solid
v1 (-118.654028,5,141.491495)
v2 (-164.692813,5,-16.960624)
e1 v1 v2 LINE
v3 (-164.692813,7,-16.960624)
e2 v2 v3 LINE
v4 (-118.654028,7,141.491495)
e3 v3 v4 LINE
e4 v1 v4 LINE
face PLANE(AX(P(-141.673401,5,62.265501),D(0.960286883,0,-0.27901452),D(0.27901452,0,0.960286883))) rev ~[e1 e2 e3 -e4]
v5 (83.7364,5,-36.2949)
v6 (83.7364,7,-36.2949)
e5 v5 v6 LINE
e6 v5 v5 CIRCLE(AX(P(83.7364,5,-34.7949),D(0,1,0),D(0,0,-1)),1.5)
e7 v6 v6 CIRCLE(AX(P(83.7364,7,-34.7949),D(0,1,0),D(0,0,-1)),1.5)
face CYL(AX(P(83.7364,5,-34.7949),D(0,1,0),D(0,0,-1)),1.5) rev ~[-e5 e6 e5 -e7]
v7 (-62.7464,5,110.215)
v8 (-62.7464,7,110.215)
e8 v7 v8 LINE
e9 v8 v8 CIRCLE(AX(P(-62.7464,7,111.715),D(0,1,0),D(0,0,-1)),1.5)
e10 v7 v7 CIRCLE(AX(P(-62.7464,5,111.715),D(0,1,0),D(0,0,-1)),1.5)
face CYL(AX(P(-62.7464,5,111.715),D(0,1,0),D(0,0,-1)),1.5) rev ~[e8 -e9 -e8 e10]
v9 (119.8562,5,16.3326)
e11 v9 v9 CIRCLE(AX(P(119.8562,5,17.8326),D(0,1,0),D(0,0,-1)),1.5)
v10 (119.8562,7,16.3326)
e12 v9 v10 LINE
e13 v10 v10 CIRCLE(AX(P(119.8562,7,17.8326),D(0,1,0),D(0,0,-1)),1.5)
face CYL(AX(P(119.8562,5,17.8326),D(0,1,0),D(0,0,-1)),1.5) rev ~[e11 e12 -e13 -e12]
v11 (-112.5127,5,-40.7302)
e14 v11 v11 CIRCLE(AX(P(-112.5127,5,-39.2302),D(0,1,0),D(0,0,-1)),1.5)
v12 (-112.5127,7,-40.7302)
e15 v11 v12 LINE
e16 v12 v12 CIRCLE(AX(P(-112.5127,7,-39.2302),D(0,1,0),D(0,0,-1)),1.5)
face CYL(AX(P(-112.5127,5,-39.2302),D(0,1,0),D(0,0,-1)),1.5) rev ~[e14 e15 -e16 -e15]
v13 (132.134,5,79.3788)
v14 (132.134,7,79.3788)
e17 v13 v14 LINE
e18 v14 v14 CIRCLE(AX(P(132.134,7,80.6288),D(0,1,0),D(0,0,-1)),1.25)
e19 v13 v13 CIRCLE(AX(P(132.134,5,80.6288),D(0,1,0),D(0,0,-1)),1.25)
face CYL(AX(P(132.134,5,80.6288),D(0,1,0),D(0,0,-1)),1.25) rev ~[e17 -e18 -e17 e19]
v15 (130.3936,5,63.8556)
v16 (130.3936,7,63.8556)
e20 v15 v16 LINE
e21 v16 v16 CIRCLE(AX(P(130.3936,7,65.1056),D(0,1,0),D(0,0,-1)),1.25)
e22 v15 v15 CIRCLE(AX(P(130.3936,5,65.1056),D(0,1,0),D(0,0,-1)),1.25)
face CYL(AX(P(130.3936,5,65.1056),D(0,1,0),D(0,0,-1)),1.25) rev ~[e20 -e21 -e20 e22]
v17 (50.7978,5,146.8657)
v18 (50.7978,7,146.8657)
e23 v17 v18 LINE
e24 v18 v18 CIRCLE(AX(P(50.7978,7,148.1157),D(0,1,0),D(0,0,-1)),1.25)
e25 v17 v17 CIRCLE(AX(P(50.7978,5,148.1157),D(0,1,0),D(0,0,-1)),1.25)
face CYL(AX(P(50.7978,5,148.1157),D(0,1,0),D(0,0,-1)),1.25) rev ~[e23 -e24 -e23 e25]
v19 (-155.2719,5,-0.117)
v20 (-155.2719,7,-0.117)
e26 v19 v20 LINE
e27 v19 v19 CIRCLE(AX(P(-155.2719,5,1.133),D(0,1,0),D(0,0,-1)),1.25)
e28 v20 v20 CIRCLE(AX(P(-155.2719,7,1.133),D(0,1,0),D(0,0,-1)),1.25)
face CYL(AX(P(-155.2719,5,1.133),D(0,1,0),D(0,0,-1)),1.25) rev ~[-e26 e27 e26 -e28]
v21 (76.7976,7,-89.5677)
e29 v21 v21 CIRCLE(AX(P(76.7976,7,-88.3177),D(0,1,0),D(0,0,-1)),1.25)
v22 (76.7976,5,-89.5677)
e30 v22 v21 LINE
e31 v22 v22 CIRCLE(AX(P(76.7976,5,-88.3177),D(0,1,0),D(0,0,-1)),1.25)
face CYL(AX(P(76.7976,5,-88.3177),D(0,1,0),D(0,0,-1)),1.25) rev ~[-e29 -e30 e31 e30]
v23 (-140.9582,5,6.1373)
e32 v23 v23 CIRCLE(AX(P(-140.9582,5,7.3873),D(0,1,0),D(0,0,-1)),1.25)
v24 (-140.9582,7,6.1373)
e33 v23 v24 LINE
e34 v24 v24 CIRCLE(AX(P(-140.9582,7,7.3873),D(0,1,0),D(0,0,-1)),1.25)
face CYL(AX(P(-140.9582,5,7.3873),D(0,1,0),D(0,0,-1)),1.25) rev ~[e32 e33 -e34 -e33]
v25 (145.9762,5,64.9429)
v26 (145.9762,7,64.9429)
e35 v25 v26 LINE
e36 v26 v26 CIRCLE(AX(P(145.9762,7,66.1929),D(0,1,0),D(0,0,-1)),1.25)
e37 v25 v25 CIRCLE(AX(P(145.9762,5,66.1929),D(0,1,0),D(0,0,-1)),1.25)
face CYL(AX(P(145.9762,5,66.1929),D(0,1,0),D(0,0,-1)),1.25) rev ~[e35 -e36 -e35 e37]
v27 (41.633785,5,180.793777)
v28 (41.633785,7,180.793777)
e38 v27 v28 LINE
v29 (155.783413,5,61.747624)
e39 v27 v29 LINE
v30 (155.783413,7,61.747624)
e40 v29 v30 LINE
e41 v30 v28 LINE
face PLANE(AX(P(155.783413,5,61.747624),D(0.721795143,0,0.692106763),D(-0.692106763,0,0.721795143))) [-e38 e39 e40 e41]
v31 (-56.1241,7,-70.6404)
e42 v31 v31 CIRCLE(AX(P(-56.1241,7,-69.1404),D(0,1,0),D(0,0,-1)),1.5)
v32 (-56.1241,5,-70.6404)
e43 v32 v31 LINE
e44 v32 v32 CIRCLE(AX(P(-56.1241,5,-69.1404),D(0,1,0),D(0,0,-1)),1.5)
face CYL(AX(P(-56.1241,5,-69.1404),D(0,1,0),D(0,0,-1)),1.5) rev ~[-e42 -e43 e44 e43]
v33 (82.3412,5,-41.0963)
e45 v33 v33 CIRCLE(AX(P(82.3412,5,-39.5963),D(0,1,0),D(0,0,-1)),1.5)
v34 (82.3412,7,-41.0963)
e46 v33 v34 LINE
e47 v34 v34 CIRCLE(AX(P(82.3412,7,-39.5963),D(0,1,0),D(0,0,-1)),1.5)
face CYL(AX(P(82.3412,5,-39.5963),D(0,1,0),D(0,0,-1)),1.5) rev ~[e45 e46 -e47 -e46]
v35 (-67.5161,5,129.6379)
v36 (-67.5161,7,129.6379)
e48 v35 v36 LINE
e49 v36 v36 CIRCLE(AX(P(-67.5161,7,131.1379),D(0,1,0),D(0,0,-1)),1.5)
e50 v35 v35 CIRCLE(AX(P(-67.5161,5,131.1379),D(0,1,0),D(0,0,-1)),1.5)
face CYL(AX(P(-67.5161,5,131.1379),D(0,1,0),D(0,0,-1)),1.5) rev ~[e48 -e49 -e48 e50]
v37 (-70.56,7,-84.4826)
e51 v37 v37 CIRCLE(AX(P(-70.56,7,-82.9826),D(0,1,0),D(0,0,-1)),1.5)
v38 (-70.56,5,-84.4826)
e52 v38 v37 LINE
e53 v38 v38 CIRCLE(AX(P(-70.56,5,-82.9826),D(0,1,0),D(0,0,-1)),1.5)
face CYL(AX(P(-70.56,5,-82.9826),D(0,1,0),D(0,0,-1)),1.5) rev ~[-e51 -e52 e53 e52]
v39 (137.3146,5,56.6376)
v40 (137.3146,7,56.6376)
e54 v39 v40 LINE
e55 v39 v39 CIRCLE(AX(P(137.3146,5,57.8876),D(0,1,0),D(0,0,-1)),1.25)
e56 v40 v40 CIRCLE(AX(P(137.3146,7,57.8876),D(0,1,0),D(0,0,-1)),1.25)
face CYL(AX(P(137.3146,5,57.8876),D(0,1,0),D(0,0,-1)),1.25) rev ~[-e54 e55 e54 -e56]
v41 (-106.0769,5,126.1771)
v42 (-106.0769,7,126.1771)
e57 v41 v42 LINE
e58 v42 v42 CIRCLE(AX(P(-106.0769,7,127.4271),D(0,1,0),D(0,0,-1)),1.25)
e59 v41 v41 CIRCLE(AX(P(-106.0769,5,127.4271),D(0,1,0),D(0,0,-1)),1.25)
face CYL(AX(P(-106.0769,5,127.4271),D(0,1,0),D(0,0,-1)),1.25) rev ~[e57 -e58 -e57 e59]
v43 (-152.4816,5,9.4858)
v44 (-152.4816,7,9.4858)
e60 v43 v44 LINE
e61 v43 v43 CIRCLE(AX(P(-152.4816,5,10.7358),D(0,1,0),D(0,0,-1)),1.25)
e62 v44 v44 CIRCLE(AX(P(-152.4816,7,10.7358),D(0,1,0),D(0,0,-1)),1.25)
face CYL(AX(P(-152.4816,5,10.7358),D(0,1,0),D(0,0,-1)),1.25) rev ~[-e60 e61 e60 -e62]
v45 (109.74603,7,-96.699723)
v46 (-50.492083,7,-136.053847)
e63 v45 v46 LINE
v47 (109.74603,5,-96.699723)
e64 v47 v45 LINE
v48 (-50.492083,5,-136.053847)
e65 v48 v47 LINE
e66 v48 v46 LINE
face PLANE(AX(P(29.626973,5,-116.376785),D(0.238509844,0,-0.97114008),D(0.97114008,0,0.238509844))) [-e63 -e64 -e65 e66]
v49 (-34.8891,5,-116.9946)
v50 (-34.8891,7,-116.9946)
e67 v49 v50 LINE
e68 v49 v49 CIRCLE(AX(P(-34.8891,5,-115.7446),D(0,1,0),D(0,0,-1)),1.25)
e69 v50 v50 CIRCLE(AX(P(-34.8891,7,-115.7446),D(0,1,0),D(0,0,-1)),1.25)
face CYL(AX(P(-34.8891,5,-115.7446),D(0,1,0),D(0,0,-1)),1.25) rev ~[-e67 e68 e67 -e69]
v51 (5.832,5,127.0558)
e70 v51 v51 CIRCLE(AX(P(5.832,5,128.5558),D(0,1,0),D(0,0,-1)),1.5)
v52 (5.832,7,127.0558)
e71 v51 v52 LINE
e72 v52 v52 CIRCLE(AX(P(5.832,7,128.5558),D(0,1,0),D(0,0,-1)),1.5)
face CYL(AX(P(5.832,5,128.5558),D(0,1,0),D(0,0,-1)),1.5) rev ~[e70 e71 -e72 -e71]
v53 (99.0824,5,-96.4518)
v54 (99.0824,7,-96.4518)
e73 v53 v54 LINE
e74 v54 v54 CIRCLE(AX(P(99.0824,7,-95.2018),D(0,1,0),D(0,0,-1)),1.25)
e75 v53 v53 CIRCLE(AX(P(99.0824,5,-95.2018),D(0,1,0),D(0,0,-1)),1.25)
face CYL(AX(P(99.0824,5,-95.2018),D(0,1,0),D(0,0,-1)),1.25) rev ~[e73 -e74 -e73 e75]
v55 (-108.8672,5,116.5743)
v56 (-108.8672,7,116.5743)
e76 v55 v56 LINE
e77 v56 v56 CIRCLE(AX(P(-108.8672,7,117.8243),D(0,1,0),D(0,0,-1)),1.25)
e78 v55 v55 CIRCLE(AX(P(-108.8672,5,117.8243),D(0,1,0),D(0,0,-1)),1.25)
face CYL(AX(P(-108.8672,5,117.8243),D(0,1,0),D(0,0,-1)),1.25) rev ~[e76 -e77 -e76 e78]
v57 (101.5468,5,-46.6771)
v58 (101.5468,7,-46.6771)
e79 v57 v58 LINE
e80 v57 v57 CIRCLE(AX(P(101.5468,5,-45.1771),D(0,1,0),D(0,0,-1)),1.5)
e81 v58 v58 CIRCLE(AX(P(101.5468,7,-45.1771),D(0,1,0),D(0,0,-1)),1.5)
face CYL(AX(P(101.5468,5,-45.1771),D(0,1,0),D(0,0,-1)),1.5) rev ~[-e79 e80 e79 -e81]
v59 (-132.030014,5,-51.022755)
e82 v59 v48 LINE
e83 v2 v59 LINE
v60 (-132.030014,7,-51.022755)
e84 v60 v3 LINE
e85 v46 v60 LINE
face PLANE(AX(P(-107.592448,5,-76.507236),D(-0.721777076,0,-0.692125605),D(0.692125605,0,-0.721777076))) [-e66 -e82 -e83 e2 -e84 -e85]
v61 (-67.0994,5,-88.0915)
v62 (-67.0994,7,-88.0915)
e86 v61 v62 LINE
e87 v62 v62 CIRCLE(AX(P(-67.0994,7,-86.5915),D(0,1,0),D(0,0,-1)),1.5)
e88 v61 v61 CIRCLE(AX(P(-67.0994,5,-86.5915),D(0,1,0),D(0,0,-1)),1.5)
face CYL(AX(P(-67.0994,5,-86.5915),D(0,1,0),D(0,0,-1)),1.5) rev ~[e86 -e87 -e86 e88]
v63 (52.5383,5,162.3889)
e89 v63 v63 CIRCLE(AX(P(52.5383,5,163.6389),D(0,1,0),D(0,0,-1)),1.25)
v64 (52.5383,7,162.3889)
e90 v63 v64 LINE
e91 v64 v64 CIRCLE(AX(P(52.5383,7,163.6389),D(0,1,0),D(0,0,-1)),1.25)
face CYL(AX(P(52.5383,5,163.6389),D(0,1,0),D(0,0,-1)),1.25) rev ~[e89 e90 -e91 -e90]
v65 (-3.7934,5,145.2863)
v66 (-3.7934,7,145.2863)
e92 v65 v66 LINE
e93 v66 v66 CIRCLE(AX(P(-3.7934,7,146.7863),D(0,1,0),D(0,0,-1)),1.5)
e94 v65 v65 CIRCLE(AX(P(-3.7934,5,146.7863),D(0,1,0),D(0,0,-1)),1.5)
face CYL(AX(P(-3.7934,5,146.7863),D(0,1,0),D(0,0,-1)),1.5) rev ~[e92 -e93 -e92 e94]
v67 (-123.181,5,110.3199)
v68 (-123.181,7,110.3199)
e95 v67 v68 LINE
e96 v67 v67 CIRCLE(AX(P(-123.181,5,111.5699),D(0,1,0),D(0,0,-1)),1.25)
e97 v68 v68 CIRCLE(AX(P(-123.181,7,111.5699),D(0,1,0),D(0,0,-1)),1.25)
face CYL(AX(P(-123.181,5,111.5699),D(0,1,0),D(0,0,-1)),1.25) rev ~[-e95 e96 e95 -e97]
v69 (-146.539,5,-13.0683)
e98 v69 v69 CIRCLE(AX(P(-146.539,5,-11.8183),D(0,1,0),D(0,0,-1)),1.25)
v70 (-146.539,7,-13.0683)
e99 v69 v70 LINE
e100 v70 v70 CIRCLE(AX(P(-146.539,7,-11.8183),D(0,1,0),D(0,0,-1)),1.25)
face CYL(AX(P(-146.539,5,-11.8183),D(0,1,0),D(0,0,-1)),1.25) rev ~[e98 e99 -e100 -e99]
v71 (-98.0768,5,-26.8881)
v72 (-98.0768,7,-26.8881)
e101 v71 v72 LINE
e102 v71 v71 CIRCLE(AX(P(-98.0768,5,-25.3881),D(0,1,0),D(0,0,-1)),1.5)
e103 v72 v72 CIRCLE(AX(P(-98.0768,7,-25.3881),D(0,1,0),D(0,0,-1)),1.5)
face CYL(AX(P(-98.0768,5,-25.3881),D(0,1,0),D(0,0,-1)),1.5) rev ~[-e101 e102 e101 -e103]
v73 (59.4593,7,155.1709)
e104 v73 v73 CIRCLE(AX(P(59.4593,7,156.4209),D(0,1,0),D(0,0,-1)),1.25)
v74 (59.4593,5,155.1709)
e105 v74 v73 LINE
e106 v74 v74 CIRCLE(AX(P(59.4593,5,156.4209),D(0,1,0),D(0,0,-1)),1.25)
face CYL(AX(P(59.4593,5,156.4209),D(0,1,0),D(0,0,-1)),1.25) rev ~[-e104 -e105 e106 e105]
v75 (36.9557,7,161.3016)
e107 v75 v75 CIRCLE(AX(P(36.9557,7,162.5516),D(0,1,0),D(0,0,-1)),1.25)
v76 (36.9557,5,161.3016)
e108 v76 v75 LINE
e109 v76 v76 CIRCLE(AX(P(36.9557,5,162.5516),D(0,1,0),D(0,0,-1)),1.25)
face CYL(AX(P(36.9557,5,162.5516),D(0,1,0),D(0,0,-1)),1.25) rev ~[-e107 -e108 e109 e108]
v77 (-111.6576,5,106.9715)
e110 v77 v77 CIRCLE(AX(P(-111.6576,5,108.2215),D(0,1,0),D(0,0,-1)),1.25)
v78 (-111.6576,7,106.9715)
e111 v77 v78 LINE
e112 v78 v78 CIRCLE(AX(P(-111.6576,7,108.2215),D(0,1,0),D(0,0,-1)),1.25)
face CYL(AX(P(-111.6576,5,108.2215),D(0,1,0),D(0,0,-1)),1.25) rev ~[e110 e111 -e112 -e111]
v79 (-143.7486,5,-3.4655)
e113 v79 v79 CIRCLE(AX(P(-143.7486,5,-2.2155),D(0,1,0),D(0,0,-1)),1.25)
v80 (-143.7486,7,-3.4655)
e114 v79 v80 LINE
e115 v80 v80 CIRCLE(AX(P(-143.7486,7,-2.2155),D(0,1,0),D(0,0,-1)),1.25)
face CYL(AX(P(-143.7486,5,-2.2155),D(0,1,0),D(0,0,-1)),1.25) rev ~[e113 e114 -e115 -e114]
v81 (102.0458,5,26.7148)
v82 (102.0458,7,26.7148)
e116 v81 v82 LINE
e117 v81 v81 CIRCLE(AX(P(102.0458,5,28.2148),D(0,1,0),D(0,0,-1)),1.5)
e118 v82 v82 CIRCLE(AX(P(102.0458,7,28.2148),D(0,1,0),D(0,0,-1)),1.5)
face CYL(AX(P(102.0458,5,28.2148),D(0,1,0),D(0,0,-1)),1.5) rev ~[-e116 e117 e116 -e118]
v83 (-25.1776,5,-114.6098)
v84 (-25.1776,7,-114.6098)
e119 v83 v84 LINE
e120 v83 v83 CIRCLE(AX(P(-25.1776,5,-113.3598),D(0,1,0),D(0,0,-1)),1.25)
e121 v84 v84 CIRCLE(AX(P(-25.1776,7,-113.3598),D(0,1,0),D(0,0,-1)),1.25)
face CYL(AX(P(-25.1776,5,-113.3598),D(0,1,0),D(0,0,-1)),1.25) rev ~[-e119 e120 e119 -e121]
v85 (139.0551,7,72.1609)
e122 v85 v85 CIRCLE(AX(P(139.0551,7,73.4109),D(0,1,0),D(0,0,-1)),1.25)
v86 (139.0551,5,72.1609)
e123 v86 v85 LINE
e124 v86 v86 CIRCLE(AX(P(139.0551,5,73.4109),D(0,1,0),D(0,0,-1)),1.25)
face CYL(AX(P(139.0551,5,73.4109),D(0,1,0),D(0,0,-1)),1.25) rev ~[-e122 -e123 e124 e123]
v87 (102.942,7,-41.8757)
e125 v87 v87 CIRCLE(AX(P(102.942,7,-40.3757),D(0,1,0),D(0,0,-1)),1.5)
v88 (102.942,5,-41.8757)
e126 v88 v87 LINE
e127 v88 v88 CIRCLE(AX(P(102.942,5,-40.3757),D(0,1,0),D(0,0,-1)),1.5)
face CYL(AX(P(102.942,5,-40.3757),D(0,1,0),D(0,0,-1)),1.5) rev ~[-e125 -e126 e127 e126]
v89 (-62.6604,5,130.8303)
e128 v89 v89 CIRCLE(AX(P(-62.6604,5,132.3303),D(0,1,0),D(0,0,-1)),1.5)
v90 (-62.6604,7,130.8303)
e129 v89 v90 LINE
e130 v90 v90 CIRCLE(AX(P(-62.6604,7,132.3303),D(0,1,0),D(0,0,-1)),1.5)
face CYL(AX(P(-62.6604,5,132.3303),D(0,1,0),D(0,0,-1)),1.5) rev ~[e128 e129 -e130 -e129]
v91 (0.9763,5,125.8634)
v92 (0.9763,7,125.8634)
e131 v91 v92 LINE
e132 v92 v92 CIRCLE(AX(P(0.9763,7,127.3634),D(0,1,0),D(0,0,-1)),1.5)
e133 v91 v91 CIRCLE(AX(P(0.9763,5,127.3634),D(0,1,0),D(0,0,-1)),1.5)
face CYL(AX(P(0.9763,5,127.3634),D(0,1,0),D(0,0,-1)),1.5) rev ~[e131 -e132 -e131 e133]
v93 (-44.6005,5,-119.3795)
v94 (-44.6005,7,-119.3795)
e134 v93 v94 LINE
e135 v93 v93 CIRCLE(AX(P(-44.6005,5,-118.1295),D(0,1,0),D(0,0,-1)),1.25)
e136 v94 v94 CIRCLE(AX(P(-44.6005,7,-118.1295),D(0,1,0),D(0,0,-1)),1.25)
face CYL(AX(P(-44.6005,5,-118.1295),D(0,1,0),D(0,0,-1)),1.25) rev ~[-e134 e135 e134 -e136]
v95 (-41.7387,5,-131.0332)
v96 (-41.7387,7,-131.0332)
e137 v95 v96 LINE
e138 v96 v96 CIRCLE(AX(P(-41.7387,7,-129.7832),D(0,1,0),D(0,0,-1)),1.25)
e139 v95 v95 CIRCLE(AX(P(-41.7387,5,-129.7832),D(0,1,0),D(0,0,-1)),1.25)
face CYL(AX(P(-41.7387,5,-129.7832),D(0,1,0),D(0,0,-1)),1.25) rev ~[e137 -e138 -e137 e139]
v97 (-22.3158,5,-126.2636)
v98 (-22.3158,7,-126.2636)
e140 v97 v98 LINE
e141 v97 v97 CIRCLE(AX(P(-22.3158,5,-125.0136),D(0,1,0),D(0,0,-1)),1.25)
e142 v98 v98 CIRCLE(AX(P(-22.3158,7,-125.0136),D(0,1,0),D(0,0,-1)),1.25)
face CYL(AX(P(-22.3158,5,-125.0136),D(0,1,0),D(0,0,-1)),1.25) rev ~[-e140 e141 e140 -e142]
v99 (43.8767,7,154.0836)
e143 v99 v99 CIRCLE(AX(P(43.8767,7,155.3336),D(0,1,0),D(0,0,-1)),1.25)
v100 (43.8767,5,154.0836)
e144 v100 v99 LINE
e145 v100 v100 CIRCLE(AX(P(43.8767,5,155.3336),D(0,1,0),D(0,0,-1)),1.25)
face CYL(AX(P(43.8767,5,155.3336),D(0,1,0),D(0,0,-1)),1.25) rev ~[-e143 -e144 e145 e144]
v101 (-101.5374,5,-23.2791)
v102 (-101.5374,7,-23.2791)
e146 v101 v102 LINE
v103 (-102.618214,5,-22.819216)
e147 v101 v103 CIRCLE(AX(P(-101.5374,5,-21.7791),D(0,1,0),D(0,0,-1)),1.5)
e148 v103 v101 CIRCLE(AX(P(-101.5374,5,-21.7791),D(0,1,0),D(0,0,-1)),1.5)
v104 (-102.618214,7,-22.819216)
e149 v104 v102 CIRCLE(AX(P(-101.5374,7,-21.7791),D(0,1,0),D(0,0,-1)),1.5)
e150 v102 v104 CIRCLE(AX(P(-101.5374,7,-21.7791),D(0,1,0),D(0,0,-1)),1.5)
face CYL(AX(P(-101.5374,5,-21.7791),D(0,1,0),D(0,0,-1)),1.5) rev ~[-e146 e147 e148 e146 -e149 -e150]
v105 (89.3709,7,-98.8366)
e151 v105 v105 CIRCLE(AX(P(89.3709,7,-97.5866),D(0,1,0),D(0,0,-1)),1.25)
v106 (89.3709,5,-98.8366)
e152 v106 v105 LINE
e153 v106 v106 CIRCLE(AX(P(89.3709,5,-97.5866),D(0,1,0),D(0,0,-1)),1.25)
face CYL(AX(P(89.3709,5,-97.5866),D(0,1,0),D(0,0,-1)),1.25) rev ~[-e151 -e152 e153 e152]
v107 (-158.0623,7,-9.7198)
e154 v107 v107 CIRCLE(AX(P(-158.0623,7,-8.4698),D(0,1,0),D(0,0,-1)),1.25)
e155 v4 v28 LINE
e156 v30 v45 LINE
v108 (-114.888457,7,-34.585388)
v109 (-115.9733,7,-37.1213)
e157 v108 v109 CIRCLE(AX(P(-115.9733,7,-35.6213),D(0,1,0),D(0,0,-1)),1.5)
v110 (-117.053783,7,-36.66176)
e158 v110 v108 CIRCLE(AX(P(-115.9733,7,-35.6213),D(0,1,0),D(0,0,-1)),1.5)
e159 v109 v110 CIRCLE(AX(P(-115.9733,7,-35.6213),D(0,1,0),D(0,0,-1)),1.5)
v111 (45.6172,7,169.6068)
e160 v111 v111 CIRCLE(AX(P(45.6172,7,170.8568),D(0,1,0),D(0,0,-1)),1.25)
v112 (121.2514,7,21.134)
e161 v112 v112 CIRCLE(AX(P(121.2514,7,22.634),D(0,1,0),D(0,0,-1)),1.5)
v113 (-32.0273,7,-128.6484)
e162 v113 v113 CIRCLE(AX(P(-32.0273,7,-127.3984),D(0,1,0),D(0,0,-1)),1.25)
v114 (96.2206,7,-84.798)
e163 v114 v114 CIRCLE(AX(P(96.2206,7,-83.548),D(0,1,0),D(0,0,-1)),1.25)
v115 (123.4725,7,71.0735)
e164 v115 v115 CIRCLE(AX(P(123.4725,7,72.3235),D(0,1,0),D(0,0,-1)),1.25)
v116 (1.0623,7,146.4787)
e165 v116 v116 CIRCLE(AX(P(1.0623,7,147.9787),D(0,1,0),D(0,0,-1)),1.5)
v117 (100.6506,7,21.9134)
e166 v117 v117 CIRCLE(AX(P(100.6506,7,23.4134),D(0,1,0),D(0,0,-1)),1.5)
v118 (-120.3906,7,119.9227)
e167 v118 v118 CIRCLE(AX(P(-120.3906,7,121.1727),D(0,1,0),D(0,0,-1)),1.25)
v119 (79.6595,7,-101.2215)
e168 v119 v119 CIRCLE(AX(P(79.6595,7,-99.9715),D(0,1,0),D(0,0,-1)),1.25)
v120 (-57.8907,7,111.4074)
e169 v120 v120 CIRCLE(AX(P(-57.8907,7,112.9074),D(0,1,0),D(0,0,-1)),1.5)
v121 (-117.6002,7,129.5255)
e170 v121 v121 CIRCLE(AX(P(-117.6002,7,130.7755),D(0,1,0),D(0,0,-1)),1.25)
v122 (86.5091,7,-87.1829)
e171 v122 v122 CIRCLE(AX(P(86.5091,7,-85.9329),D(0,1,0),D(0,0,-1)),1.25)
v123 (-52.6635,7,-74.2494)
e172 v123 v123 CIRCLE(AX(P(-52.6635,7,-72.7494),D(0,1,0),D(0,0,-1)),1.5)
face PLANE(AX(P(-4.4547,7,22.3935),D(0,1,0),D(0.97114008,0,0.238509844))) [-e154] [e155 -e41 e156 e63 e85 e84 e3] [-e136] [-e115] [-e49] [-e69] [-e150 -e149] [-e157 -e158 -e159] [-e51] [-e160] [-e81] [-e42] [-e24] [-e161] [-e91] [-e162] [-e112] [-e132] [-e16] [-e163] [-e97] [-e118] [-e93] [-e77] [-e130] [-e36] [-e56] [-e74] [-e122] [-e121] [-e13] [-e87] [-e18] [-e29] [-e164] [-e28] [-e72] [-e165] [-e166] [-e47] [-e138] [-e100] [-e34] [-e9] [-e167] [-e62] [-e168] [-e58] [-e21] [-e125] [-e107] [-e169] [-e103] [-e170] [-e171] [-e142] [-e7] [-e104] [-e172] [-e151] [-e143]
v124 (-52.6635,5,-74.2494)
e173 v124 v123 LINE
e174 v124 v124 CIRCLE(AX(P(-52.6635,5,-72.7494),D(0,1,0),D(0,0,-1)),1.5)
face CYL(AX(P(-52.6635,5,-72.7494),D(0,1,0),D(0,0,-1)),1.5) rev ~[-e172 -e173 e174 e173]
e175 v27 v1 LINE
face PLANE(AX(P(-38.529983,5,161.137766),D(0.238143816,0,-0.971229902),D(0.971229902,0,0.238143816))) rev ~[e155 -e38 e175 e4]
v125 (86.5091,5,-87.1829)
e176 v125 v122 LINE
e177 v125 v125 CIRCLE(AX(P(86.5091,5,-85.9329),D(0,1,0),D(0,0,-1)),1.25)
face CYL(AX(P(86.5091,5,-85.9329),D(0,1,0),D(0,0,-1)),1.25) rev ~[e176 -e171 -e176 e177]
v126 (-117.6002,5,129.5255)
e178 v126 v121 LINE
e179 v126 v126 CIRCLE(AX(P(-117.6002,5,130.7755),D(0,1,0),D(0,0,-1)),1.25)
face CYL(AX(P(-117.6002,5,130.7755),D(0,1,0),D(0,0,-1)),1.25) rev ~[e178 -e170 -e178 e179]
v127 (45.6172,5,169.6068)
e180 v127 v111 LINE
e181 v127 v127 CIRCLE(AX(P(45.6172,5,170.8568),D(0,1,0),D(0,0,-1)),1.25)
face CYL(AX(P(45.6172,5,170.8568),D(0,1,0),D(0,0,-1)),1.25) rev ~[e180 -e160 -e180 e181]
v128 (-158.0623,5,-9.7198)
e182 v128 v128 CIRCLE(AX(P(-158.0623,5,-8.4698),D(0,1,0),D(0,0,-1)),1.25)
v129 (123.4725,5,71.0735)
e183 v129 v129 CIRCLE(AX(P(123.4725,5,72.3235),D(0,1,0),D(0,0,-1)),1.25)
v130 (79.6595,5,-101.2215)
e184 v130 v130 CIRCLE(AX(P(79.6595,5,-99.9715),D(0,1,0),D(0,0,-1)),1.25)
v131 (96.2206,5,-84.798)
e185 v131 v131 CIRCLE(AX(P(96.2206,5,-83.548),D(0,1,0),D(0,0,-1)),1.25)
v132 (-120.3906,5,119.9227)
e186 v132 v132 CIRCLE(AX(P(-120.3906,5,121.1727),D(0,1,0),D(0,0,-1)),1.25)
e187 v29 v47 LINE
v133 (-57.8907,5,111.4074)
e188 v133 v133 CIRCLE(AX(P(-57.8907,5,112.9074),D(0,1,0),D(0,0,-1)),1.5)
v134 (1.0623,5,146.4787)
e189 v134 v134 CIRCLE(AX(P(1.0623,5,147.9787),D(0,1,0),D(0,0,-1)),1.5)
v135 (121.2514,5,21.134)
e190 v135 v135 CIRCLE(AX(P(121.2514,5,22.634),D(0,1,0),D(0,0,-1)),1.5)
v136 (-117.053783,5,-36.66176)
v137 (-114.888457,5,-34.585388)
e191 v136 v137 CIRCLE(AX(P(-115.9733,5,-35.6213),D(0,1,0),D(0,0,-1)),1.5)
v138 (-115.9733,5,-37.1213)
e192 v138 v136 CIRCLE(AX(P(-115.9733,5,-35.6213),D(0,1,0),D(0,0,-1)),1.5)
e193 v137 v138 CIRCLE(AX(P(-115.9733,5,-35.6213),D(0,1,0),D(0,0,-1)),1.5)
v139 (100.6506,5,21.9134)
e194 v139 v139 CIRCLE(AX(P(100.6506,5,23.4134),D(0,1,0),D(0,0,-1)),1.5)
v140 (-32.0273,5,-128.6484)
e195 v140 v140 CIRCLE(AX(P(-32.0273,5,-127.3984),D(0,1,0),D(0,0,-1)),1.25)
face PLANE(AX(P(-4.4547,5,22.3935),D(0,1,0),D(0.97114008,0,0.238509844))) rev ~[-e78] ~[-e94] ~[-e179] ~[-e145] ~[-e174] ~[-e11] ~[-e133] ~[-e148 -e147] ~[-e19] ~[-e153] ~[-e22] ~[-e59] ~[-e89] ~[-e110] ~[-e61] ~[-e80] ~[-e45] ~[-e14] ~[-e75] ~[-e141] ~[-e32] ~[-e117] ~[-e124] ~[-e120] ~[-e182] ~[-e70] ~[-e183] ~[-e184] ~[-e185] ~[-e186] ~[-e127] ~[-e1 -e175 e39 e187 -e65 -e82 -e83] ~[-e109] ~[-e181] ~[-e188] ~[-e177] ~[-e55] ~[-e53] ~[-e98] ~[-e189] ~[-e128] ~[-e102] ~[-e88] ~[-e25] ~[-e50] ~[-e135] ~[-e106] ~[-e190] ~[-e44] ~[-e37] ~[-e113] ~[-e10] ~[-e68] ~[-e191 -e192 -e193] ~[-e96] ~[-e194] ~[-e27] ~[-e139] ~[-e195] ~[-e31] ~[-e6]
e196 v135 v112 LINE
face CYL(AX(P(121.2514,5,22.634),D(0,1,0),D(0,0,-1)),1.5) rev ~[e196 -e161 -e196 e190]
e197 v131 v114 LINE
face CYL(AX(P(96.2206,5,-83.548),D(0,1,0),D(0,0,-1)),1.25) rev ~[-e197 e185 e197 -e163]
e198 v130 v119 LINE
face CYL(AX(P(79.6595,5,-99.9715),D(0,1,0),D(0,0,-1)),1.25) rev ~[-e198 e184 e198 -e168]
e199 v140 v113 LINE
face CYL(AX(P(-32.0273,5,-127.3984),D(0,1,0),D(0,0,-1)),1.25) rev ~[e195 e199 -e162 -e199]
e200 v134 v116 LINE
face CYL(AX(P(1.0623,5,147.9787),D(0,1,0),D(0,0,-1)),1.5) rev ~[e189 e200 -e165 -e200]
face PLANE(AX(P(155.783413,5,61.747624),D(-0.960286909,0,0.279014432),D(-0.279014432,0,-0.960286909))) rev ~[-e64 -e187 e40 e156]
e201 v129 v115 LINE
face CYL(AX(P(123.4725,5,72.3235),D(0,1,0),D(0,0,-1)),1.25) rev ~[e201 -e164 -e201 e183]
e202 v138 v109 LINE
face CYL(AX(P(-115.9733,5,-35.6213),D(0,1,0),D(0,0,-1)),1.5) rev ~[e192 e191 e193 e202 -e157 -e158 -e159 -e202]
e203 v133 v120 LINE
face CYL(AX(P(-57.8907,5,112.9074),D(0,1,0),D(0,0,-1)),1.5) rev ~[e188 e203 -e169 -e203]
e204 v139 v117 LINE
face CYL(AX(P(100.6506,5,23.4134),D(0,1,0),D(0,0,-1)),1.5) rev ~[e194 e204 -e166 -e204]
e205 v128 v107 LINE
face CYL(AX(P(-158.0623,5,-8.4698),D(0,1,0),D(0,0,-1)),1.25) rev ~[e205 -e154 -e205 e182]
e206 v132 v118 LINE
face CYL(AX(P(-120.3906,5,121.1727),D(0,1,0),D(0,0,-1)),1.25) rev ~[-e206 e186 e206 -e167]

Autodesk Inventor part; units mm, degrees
ref_plane "YZ Plane" through (0, 0, 0) normal (1, 0, 0) x (0, 1, 0)
ref_plane "XZ Plane" through (0, 0, 0) normal (0, 1, 0) x (-1, 0, 0)
ref_plane "XY Plane" through (0, 0, 0) normal (0, 0, 1) x (1, 0, 0)
ref_plane "Work Plane2" through (-4.4547, 5, 22.3935) normal (0, 1, 0) x (0.9711, 0, 0.2385)
sketch "Sketch2" plane through (-4.4547, 5, 22.3935) normal (0, 1, 0) x (0.9711, 0, 0.2385)
  line L0 (1.3055, 292.2458) -> (0.897, 292.9749)
  line L1 (165, 0) -> (82.5, 142.8942)
  line L2 (165, 0) -> (455.412, 0) construction
  line L3 (-165, 0) -> (-123.75, 71.4471)
  line L4 (-82.5, 142.8942) -> (82.5, 142.8942)
  line L5 (165, 0) -> (82.5384, -142.8363)
  line L6 (-165, 0) -> (-82.4975, -142.8985)
  line L7 (-82.4975, -142.8985) -> (82.5384, -142.8363)
  line L8 (-123.75, 71.4471) -> (123.7519, -71.4482)
  line L9 (-123.75, 71.4471) -> (-82.5, 142.8942)
  line L10 (-123.75, 71.4471) -> (-103.596, 106.3548)
  line L11 (-103.596, 106.3548) -> (-143.904, 36.5393)
  line L12 (-143.904, 36.5393) -> (-20.154, -34.9078)
  line L13 (-143.904, 36.5393) -> (-141.404, 40.8695)
  line L14 (-141.404, 40.8695) -> (-13.7235, -32.8469)
  line L15 (-143.904, 36.5393) -> (-140.154, 43.0345)
  line L16 (-140.154, 43.0345) -> (-8.7235, -32.8469)
  circle A0 centre (-122.1364, 29.7453) radius 1.25
  line L17 (-122.1364, 29.7453) -> (-104.8159, 19.7453)
  circle A1 centre (-104.8159, 19.7453) radius 1.25
  circle A2 centre (-119.6364, 34.0755) radius 1.25
  circle A3 centre (-102.3159, 24.0755) radius 1.25
  circle A4 centre (-86.8284, 90.9006) radius 1.25
  circle A5 centre (-69.5079, 80.9006) radius 1.25
  circle A6 centre (-72.0079, 76.5705) radius 1.25
  circle A7 centre (-89.3284, 86.5705) radius 1.25
  line L18 (-103.596, 106.3548) -> (38.9161, 24.0755)
  line L19 (0, -168.5342) -> (0, 201.2918)
  circle A8 centre (122.1364, 29.7453) radius 1.25
  circle A9 centre (104.8159, 19.7453) radius 1.25
  circle A10 centre (102.3159, 24.0755) radius 1.25
  circle A11 centre (119.6364, 34.0755) radius 1.25
  circle A12 centre (72.0079, 76.5705) radius 1.25
  circle A13 centre (89.3284, 86.5705) radius 1.25
  circle A14 centre (86.8284, 90.9006) radius 1.25
  circle A15 centre (69.5079, 80.9006) radius 1.25
  circle A16 centre (-35.308, -100.6459) radius 1.25
  circle A17 centre (30.308, -100.6459) radius 1.25
  circle A18 centre (35.308, -100.6459) radius 1.25
  circle A19 centre (30.308, -120.6459) radius 1.25
  circle A20 centre (35.308, -120.6459) radius 1.25
  circle A21 centre (-30.308, -100.6459) radius 1.25
  circle A22 centre (-30.308, -120.6459) radius 1.25
  circle A23 centre (-35.308, -120.6459) radius 1.25
  line L20 (-82.4975, -142.8985) -> (-65.177, -132.8985)
  line L21 (-82.4975, -142.8985) -> (-79.0334, -140.8985)
  line L22 (-165, 0) -> (-147.6795, 10)
  line L23 (-165, 0) -> (-145, 0) construction
  line L24 (-147.6795, 10) -> (-65.177, -132.8985)
  line L25 (-165, 0) -> (-161.5359, 2)
  line L26 (-161.5359, 2) -> (-79.0334, -140.8985)
  line L27 (-73.8372, -137.8985) -> (-156.3397, 5)
  line L28 (-79.0334, -140.8985) -> (-84.0334, -132.2383)
  line L29 (-84.0334, -132.2383) -> (-89.0334, -123.578)
  line L30 (-89.0334, -123.578) -> (-94.0334, -114.9178)
  line L31 (-123.7487, -71.4493) -> (-106.4282, -61.4493)
  circle A24 centre (-84.0334, -132.2383) radius 1.25
  circle A25 centre (-89.0334, -123.578) radius 1.25
  circle A26 centre (-94.0334, -114.9178) radius 1.25
  circle A27 centre (-73.6411, -126.2383) radius 1.25
  circle A28 centre (-78.6411, -117.578) radius 1.25
  circle A29 centre (-83.6411, -108.9178) radius 1.25
  circle A30 centre (-156.5359, -6.6603) radius 1.25
  circle A31 centre (-151.5359, -15.3205) radius 1.25
  circle A32 centre (-146.5359, -23.9808) radius 1.25
  circle A33 centre (-136.1436, -17.9808) radius 1.25
  circle A34 centre (-141.1436, -9.3205) radius 1.25
  circle A35 centre (-146.1436, -0.6603) radius 1.25
  circle A36 centre (72.505, 138.8942) radius 1.25
  circle A37 centre (62.505, 138.8942) radius 1.25
  circle A38 centre (52.505, 138.8942) radius 1.25
  circle A39 centre (52.505, 126.8942) radius 1.25
  circle A40 centre (62.505, 126.8942) radius 1.25
  circle A41 centre (72.505, 126.8942) radius 1.25
  circle A42 centre (-72.5, 138.8942) radius 1.25
  circle A43 centre (-62.5, 138.8942) radius 1.25
  circle A44 centre (-52.5, 138.8942) radius 1.25
  circle A45 centre (-52.5, 126.8942) radius 1.25
  circle A46 centre (-62.5, 126.8942) radius 1.25
  circle A47 centre (-72.5, 126.8942) radius 1.25
  circle A48 centre (84.0334, -132.2383) radius 1.25
  circle A49 centre (89.0334, -123.578) radius 1.25
  circle A50 centre (94.0334, -114.9178) radius 1.25
  circle A51 centre (83.6411, -108.9178) radius 1.25
  circle A52 centre (78.6411, -117.578) radius 1.25
  circle A53 centre (73.6411, -126.2383) radius 1.25
  circle A54 centre (156.5359, -6.6603) radius 1.25
  circle A55 centre (151.5359, -15.3205) radius 1.25
  circle A56 centre (146.5359, -23.9808) radius 1.25
  circle A57 centre (136.1436, -17.9808) radius 1.25
  circle A58 centre (141.1436, -9.3205) radius 1.25
  circle A59 centre (146.1436, -0.6603) radius 1.25
  dimension "d14" = 120
  dimension "d19" = 40.308
  dimension "d20" = 80.616
  dimension "d21" = 5
  dimension "d22" = 7.5
  dimension "d23" = 2.5
  dimension "d24" = 20
  dimension "d25" = 2.5
  dimension "d40" = 20
  dimension "d42" = 4
  dimension "d43" = 90
  dimension "d45" = 20
  dimension "d46" = 30
  dimension "d47" = 10
  dimension "d48" = 10
  dimension "d50" = 10
  dimension "d51" = 2.5
  dimension "d52" = 2.5
  dimension "d53" = 2.5
ref_plane "Work Plane3" through (-4.4547, 5, 22.3935) normal (0, 1, 0) x (0.9711, 0, 0.2385)
extrude "Extrusion2" add sketch "Sketch2" along normal blind 2 contours L5 L8 L19 L4 L1 | L5 L7 L19 L8 | L19 L18 L9 L4 | A1 L14 | L14 A1 | A0 L14 | L14 A0 | L19 L7 L20 L24 L22 L3 L8 | L8 L9 L18 L19 | L6 L31 L26 A26 A25 A24 L20 | L6 L22 L26 A30 A31 A32 L31 | L26 A24 A25 A26 L31 L27 L20 | L26 A32 A31 A30 L22 L27 L31 | L27 L31 L24 L20 | A24 L26 | L26 A24 | A32 L26 | L26 A32 | A26 L26 | L26 A26 | L27 L22 L24 L31 | A30 L26 | L26 A30 | A25 L26 | L26 A25 | A31 L26 | L26 A31 | A2 | A3 | A4 | A5 | A6 | A7 | A8 | A9 | A10 | A11 | A12 | A13 | A14 | A15 | A16 | A17 | A18 | A19 | A20 | A21 | A22 | A23 | A27 | A28 | A29 | A33 | A34 | A35 | A36 | A37 | A38 | A39 | A40 | A41 | A42 | A43 | A44 | A45 | A46 | A47 | A48 | A49 | A50 | A51 | A52 | A53 | A54 | A55 | A56 | A57 | A58 | A59
hole "Hole1" at (-98.0768, 5, -25.3881) at (-112.5127, 5, -39.2302) at (-115.9733, 5, -35.6213) at (-101.5374, 5, -21.7791) at (-70.56, 5, -82.9826) at (-67.0994, 5, -86.5915) at (-52.6635, 5, -72.7494) at (-56.1241, 5, -69.1404) direction (0, 1, 0) diameter 3 end through all
hole "Hole2" at (-67.5161, 5, 131.1379) at (-62.6604, 5, 132.3303) at (-62.7464, 5, 111.715) at (-57.8907, 5, 112.9074) at (-3.7934, 5, 146.7863) at (1.0623, 5, 147.9787) at (5.832, 5, 128.5558) at (0.9763, 5, 127.3634) at (102.0458, 5, 28.2148) at (100.6506, 5, 23.4134) at (121.2514, 5, 22.634) at (119.8562, 5, 17.8326) at (83.7364, 5, -34.7949) at (82.3412, 5, -39.5963) at (102.942, 5, -40.3757) at (101.5468, 5, -45.1771) direction (0, 1, 0) diameter 3 end through all
hole "Hole3" at (-44.6005, 5, -118.1295) at (-34.8891, 5, -115.7446) at (-25.1776, 5, -113.3598) at (-22.3158, 5, -125.0136) at (-32.0273, 5, -127.3984) at (-41.7387, 5, -129.7832) at (79.6595, 5, -99.9715) at (76.7976, 5, -88.3177) at (86.5091, 5, -85.9329) at (89.3709, 5, -97.5866) at (99.0824, 5, -95.2018) at (96.2206, 5, -83.548) at (-152.4816, 5, 10.7358) at (-140.9582, 5, 7.3873) at (-143.7486, 5, -2.2155) at (-155.2719, 5, 1.133) at (-158.0623, 5, -8.4698) at (-146.539, 5, -11.8183) at (-123.181, 5, 111.5699) at (-111.6576, 5, 108.2215) at (-108.8672, 5, 117.8243) at (-106.0769, 5, 127.4271) at (-117.6002, 5, 130.7755) at (-120.3906, 5, 121.1727) at (36.9557, 5, 162.5516) at (45.6172, 5, 170.8568) at (52.5383, 5, 163.6389) at (43.8767, 5, 155.3336) at (50.7978, 5, 148.1157) at (59.4593, 5, 156.4209) at (132.134, 5, 80.6288) at (123.4725, 5, 72.3235) at (130.3936, 5, 65.1056) at (139.0551, 5, 73.4109) at (145.9762, 5, 66.1929) at (137.3146, 5, 57.8876) direction (0, 1, 0) diameter 2.5 end through all
properties part number "ArmPlatform" material "Aluminum 6061"
